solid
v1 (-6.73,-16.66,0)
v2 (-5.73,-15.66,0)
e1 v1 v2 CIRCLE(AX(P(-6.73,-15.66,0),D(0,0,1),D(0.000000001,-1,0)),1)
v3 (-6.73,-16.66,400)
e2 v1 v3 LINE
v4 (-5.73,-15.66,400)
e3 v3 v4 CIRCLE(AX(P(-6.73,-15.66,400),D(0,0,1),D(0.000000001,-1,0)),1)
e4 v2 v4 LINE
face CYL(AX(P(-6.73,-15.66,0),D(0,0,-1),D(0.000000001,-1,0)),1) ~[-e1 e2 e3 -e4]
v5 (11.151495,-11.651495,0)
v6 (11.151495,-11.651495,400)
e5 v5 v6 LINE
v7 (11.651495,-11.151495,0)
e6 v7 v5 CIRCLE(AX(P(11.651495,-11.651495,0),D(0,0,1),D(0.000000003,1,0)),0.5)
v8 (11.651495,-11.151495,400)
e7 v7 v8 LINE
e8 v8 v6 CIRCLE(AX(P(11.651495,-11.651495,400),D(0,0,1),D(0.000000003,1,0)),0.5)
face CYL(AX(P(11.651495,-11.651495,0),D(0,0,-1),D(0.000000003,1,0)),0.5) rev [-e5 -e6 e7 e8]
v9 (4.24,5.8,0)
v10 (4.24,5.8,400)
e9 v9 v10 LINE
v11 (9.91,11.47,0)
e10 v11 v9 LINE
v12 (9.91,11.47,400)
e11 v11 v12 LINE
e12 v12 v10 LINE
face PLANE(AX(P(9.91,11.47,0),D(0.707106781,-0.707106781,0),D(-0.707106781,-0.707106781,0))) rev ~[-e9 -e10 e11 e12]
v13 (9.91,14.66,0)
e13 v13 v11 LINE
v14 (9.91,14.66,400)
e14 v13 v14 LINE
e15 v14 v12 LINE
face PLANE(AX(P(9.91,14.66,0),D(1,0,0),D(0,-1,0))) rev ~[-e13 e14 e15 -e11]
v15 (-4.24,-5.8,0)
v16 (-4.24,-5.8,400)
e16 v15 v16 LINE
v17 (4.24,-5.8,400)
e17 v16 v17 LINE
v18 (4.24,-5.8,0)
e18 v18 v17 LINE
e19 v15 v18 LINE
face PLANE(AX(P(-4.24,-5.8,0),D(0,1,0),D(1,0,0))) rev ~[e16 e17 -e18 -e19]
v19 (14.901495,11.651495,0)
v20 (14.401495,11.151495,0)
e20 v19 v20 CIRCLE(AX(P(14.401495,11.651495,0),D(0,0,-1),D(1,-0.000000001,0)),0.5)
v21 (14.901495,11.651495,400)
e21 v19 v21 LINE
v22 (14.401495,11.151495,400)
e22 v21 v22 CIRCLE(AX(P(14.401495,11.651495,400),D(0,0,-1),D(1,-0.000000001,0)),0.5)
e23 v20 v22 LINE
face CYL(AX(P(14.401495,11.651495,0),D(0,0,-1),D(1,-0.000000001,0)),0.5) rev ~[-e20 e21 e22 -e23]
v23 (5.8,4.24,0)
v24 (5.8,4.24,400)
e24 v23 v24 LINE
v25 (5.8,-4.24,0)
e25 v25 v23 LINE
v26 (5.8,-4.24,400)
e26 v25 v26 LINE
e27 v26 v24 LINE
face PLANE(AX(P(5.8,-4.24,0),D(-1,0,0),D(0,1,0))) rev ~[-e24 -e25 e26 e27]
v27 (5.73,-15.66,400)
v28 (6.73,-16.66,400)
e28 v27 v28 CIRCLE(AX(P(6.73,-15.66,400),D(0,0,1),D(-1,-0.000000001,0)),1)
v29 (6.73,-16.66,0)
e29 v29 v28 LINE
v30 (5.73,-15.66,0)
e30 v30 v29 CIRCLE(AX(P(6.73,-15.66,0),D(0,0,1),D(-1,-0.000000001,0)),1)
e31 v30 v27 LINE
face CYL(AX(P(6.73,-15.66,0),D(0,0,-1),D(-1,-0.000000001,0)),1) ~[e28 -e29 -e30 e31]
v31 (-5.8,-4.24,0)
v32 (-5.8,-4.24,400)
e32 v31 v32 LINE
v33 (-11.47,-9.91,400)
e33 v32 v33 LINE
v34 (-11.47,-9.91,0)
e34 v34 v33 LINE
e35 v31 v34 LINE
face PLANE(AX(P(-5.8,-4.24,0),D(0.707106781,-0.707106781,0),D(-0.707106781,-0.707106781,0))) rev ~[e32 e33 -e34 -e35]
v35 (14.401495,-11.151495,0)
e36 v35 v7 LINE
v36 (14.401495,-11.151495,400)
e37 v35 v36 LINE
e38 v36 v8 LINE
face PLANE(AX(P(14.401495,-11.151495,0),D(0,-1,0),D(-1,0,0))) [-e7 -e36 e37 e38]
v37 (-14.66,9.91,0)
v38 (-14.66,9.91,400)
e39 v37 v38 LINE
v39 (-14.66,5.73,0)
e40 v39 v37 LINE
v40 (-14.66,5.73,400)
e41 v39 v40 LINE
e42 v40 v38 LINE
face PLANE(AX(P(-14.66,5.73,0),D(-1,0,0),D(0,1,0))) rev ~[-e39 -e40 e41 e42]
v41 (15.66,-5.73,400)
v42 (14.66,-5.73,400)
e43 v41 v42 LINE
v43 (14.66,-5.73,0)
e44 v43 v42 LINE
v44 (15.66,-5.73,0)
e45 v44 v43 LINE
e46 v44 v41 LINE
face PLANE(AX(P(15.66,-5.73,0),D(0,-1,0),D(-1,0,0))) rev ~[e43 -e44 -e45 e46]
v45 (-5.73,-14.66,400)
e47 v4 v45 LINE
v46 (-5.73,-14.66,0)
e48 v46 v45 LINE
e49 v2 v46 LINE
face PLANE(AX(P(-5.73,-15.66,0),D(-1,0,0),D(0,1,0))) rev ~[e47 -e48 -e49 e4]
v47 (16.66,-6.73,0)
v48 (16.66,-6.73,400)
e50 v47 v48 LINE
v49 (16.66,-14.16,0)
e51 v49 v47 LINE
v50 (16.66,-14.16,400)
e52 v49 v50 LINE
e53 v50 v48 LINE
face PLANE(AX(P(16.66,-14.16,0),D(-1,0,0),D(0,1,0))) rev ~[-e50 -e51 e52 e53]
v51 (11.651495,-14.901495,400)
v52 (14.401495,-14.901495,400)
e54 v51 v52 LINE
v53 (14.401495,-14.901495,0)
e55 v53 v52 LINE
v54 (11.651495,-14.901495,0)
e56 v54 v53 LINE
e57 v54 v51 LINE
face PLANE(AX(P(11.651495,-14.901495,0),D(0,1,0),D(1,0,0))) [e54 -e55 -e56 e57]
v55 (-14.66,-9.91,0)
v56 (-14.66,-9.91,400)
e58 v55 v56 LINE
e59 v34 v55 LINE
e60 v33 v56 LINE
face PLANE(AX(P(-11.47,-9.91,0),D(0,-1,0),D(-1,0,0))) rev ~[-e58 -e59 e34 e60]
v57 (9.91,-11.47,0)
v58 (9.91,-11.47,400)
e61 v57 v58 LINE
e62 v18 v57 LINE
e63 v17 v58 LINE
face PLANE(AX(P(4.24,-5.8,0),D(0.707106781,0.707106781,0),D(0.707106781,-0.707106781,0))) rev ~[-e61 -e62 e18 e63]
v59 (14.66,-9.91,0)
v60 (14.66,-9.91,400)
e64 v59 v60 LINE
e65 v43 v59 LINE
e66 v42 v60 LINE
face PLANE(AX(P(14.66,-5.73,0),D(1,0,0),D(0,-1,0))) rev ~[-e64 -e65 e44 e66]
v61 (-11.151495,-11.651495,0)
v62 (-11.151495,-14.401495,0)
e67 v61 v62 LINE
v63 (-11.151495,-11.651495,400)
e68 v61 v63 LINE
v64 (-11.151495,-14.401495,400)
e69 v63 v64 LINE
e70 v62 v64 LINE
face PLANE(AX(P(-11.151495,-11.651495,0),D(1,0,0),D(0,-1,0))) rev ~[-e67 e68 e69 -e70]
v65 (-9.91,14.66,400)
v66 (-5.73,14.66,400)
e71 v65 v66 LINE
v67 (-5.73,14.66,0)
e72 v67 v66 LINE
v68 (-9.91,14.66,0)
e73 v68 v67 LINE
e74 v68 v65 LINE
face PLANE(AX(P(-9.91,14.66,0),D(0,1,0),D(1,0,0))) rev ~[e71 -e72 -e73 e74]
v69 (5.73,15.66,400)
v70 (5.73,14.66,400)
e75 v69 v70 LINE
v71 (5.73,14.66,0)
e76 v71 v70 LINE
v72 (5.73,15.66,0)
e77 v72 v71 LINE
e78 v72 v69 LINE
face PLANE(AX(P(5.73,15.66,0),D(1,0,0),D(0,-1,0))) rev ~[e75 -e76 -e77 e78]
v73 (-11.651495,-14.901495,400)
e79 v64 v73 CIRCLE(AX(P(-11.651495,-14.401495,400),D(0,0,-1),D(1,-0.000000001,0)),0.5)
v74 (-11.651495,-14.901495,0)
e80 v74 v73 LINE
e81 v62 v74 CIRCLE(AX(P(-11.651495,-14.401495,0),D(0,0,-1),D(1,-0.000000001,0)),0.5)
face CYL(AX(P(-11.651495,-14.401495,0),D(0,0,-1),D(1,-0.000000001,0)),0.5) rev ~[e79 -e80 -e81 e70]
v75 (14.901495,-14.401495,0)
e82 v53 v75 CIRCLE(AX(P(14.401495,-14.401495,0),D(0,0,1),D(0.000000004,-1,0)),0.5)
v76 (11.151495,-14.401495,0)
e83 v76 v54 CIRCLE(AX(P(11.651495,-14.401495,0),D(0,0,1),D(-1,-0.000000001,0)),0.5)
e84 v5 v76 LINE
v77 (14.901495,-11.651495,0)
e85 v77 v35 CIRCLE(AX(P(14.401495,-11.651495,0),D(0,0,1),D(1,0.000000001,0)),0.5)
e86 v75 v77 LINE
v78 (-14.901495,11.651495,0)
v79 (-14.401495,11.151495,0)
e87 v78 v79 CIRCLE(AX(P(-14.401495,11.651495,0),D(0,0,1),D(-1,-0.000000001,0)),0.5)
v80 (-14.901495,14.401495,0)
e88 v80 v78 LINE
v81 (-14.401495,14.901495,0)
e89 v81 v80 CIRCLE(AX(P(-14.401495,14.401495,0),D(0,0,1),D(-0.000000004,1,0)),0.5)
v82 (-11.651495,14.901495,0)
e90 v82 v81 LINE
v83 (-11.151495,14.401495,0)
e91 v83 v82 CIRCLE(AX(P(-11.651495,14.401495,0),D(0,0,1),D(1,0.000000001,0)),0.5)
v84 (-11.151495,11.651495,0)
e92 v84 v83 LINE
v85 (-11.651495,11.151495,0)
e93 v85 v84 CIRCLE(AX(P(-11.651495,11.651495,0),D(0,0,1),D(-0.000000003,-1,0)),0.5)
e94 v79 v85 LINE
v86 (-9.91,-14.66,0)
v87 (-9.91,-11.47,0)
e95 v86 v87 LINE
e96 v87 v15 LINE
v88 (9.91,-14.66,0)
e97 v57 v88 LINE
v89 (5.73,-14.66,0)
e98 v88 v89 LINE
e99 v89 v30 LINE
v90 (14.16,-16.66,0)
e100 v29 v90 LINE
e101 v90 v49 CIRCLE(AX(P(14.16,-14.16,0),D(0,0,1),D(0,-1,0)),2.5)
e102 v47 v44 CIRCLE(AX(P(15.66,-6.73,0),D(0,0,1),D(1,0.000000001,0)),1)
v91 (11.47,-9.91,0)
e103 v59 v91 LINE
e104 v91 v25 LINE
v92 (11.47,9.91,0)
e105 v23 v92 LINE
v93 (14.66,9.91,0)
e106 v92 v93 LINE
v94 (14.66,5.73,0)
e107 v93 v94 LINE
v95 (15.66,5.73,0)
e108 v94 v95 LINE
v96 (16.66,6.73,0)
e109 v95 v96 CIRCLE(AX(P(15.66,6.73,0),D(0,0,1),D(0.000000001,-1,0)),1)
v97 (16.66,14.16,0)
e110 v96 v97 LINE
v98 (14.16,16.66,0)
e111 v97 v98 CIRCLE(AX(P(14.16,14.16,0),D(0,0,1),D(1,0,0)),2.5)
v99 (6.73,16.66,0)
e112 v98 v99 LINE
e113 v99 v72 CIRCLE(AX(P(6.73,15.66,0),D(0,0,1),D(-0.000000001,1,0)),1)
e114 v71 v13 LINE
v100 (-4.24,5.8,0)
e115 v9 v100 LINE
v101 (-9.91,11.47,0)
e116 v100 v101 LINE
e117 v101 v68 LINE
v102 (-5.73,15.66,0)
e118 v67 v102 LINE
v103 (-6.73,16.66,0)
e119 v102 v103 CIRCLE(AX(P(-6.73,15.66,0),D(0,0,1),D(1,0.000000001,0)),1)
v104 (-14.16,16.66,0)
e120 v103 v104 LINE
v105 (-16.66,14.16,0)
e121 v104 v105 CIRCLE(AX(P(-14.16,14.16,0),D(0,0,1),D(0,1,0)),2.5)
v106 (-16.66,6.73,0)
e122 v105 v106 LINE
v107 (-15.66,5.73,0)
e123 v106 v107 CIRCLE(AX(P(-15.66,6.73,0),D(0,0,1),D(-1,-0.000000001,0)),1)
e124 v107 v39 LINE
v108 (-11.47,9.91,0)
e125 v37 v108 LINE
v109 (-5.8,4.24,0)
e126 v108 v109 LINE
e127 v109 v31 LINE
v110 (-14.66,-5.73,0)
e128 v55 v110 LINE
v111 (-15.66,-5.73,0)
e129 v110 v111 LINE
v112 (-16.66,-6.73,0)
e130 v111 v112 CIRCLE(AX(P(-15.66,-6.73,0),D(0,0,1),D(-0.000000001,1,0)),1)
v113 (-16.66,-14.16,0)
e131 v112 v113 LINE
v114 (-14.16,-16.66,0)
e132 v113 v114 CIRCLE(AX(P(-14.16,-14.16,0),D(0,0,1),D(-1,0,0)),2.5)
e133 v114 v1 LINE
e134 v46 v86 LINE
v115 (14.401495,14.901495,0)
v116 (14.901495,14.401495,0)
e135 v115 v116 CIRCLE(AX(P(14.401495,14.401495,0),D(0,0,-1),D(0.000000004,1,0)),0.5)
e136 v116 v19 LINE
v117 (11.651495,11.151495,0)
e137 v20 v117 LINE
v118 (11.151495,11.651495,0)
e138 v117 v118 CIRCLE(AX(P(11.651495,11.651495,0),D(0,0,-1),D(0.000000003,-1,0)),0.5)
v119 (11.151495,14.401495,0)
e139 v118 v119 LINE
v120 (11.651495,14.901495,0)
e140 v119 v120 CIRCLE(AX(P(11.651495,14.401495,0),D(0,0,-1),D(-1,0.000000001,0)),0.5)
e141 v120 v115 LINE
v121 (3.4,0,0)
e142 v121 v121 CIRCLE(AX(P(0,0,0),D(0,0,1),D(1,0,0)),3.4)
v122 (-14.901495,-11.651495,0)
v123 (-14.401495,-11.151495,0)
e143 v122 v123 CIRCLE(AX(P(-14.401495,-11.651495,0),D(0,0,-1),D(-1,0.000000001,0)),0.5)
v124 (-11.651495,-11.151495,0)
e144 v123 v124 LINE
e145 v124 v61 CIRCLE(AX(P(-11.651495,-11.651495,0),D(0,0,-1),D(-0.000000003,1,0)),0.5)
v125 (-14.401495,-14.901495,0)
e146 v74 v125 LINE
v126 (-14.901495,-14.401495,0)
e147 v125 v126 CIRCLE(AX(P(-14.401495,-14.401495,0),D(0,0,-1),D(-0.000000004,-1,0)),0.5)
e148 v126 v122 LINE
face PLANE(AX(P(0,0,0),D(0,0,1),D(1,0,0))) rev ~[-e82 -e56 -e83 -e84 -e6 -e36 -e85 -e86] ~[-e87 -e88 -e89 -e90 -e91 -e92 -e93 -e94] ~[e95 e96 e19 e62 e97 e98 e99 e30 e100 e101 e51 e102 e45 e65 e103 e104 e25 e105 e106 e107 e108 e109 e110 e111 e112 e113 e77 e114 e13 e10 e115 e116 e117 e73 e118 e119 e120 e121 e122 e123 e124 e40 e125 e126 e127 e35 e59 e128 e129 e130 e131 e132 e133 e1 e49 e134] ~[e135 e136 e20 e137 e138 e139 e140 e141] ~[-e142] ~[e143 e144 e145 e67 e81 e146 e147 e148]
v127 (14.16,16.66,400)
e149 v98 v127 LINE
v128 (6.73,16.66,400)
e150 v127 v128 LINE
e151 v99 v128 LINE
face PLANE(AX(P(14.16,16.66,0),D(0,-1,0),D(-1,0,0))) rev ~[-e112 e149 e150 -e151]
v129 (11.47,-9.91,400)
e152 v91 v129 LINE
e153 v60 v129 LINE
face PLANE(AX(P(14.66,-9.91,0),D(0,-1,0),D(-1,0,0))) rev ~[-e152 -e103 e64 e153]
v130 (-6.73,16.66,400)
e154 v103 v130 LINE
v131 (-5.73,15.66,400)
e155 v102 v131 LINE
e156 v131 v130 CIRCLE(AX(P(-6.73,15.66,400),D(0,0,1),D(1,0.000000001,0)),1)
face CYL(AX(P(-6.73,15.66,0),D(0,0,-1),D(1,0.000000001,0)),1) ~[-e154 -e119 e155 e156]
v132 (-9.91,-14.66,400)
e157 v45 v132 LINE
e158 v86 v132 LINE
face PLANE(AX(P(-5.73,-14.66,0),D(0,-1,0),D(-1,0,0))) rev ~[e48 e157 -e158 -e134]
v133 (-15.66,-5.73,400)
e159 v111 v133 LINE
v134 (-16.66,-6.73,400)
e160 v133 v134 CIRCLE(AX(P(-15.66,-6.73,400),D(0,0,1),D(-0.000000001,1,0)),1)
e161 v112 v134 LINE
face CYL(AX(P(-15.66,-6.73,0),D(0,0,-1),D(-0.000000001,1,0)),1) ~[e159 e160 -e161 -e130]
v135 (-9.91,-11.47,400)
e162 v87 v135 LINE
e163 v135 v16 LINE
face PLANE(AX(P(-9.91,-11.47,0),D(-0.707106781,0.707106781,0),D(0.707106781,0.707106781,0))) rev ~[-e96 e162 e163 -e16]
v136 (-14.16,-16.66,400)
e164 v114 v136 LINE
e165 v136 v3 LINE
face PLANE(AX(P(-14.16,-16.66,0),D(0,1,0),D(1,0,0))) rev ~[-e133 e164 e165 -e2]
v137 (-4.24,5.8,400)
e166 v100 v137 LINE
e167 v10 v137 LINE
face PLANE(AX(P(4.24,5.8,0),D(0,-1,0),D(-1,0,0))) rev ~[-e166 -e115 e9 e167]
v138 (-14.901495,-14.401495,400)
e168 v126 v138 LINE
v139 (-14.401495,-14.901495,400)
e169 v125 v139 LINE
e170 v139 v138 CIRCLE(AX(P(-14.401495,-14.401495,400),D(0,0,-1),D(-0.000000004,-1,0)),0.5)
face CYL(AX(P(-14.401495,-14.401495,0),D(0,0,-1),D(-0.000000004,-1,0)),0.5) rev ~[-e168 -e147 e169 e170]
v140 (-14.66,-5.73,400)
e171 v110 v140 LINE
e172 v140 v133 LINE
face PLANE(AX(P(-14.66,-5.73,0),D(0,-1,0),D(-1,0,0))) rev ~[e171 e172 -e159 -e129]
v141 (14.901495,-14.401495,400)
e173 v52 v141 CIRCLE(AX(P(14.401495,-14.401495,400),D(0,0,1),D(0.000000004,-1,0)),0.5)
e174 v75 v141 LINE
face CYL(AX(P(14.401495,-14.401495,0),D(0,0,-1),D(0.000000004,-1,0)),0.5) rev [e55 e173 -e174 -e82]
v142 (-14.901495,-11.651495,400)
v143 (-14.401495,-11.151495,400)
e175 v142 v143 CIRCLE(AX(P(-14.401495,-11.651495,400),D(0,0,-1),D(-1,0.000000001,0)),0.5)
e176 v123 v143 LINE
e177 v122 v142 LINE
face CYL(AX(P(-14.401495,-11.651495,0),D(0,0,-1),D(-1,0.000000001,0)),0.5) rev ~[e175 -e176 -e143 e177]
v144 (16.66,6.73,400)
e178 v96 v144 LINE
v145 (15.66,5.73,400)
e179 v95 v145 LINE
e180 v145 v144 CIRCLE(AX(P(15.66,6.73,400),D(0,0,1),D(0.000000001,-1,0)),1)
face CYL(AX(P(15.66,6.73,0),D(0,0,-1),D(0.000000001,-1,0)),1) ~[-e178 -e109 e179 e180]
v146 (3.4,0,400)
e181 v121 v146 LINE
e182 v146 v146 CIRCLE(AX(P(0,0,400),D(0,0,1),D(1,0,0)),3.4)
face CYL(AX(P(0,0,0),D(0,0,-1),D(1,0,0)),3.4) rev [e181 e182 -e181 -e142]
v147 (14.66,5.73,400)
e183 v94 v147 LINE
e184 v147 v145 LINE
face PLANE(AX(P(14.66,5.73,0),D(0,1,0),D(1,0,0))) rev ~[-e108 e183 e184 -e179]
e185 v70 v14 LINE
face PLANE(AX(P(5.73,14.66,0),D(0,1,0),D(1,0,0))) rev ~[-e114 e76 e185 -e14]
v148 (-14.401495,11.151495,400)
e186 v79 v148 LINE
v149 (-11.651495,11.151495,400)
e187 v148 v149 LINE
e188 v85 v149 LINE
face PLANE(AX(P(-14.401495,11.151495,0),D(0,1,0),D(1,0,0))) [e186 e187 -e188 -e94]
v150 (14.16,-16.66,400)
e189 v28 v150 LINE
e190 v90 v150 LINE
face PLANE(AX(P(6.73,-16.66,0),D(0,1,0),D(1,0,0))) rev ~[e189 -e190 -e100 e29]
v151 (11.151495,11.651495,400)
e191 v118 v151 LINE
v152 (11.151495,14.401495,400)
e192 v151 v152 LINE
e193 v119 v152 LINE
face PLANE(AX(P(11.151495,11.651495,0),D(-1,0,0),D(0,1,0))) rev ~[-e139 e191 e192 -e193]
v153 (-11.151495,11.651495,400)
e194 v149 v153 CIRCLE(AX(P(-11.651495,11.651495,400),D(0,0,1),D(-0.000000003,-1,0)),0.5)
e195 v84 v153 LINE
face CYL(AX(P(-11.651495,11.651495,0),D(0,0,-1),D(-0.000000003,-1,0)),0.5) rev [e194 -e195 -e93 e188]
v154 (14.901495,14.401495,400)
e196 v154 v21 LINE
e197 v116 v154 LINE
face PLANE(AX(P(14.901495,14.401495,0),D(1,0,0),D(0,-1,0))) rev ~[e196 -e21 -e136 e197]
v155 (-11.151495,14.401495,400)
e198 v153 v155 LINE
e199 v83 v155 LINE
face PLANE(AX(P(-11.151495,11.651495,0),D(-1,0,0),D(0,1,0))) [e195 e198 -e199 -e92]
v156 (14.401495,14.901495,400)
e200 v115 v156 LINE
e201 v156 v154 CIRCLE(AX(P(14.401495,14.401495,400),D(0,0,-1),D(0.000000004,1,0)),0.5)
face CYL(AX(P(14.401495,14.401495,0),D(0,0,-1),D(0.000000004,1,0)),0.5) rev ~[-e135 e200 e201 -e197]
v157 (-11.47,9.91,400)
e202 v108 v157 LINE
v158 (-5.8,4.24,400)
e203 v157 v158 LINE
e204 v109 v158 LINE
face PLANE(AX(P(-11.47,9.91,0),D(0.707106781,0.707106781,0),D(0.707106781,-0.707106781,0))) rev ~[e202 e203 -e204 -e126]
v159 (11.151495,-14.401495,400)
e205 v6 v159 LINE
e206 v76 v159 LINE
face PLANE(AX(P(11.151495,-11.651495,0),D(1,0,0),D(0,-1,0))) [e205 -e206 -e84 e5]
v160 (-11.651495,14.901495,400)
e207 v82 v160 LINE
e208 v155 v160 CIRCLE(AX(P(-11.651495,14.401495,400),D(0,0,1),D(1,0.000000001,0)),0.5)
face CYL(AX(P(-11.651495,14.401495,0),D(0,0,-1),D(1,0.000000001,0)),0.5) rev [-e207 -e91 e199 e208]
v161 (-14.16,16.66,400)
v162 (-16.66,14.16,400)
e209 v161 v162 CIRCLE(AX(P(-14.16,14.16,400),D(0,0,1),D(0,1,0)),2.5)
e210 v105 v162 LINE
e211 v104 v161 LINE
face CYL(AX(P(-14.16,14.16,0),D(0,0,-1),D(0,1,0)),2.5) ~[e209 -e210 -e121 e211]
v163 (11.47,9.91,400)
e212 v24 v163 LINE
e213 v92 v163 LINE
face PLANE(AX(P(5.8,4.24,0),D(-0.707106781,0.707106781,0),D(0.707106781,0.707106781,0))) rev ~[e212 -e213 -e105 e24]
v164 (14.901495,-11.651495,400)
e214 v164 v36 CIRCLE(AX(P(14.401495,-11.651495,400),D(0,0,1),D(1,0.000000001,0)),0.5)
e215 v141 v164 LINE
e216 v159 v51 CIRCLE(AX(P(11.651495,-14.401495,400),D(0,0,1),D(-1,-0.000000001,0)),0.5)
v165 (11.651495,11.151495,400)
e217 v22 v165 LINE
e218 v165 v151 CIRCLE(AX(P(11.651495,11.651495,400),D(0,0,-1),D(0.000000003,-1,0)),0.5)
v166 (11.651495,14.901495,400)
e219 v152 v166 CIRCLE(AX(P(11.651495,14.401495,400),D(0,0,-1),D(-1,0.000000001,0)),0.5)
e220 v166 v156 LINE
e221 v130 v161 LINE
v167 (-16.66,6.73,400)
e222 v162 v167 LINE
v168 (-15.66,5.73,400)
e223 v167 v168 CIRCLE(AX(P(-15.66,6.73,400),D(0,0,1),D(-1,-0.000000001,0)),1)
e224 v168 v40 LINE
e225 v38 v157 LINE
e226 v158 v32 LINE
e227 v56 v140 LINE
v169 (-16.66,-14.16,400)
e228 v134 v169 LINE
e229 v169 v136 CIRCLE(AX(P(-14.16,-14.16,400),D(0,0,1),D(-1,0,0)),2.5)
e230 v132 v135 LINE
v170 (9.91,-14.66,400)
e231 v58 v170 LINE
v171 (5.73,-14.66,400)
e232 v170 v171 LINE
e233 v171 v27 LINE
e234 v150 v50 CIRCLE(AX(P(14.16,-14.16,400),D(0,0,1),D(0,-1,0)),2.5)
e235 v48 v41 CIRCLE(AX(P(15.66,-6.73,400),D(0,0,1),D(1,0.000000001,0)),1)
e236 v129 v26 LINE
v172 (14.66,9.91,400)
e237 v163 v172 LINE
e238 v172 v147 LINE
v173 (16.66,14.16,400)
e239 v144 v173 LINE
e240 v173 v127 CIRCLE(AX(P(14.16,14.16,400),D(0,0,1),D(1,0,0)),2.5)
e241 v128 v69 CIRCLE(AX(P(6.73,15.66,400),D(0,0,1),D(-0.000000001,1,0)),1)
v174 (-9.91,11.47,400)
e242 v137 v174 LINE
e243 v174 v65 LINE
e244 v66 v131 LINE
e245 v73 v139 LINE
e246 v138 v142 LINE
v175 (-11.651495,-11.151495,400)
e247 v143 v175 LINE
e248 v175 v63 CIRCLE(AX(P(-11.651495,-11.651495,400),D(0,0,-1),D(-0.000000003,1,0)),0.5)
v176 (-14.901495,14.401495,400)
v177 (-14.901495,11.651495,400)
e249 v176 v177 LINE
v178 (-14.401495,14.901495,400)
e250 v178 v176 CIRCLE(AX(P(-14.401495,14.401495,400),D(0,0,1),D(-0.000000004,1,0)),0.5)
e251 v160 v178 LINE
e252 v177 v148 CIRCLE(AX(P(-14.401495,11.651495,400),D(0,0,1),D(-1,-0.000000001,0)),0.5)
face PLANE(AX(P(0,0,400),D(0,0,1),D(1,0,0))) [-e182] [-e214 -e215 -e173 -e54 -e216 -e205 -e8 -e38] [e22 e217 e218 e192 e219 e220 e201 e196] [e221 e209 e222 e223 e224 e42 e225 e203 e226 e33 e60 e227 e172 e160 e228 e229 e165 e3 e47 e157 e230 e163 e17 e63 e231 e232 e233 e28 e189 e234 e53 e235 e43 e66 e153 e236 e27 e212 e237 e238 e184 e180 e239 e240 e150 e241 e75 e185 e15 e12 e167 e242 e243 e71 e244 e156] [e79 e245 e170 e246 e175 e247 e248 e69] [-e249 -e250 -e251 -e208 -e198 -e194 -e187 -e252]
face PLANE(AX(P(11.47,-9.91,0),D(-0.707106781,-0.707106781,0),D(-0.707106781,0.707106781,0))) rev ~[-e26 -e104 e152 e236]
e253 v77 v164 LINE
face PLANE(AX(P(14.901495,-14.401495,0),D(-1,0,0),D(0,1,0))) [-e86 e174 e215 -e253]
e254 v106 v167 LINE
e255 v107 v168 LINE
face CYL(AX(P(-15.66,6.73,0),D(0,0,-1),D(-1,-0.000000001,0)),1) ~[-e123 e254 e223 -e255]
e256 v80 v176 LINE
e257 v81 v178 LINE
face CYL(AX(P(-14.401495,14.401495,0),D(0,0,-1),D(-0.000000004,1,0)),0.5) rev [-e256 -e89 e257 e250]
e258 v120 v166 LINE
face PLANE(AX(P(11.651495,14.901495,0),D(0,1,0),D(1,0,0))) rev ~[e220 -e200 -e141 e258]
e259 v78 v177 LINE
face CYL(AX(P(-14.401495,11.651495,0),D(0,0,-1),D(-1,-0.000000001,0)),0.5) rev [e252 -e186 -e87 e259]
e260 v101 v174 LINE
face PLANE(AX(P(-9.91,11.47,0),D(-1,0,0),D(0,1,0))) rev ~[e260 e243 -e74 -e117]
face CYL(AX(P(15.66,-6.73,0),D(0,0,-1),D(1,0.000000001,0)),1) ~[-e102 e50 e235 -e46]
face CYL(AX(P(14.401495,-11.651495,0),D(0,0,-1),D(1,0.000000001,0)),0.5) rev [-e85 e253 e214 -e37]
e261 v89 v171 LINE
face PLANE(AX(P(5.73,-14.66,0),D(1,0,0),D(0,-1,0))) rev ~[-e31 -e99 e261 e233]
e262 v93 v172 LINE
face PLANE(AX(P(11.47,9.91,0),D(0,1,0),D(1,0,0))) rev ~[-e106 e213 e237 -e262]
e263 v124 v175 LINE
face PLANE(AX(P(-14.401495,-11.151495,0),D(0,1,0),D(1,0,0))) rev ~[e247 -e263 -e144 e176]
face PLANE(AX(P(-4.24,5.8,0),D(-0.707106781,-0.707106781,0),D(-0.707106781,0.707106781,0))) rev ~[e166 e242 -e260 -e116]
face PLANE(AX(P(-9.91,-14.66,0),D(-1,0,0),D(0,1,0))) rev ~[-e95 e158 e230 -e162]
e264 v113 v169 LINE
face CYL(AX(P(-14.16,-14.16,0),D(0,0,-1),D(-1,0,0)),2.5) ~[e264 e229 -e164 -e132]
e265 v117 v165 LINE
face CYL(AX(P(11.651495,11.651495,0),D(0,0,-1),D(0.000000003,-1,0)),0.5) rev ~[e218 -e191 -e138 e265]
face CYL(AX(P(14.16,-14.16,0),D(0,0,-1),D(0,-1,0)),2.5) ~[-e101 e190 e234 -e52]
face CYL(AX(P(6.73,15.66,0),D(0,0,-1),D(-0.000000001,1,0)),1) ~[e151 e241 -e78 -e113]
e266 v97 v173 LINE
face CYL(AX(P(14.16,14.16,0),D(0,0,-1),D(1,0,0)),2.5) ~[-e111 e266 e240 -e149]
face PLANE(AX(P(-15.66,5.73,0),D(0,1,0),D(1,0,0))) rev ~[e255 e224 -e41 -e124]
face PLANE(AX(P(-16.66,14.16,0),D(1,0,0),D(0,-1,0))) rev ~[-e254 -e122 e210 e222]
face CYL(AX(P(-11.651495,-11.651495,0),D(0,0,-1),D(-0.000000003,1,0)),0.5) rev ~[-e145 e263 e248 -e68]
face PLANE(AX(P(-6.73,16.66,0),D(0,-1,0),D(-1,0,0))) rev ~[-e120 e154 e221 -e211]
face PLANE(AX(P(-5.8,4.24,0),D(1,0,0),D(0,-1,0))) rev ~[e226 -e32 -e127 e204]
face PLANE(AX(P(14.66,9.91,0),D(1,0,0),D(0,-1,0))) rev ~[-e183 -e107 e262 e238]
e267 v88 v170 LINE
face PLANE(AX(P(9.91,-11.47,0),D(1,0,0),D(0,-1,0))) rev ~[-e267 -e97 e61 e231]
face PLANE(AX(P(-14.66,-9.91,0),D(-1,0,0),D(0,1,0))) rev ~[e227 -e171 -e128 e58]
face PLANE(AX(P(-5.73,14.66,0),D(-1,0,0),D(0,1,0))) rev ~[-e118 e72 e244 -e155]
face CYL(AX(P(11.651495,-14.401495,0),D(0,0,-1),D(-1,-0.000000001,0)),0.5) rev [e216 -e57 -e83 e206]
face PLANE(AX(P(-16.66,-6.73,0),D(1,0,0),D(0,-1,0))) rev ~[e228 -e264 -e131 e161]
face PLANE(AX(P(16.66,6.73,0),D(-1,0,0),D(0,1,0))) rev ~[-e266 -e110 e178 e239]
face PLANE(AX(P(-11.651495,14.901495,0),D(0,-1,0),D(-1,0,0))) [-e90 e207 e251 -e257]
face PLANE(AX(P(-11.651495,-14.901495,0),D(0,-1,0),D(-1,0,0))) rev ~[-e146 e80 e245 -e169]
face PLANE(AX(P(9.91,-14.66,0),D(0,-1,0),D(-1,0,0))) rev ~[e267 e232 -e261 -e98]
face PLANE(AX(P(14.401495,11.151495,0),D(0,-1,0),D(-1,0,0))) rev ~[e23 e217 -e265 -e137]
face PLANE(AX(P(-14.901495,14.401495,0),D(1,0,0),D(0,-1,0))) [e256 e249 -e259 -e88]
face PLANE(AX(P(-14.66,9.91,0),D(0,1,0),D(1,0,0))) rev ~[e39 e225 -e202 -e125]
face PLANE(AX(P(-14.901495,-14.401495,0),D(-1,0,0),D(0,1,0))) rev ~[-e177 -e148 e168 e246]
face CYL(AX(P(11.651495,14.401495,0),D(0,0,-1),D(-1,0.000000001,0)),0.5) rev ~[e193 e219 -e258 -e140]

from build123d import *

# Parameters (mm, degrees)
CROQUIS1_R              = 3.4
SALIENTE_EXTRUIR1_DEPTH = 400


with BuildPart() as part:
    # Croquis1 → Saliente-Extruir1 (new body)
    with BuildSketch(Plane.XY):
        with BuildLine():
            Line((5.8, -4.24), (5.8, 4.24))
            Line((5.8, 4.24), (11.47, 9.91))
            Line((11.47, 9.91), (14.66, 9.91))
            Line((14.66, 9.91), (14.66, 5.73))
            Line((14.66, 5.73), (15.66, 5.73))
            ThreePointArc((15.66, 5.73), (16.367106781, 6.022893219), (16.66, 6.73))
            Line((16.66, 6.73), (16.66, 14.16))
            ThreePointArc((16.66, 14.16), (15.927766953, 15.927766953), (14.16, 16.66))
            Line((14.16, 16.66), (6.73, 16.66))
            ThreePointArc((6.73, 16.66), (6.022893219, 16.367106781), (5.73, 15.66))
            Line((5.73, 15.66), (5.73, 14.66))
            Line((5.73, 14.66), (9.91, 14.66))
            Line((9.91, 14.66), (9.91, 11.47))
            Line((9.91, 11.47), (4.24, 5.8))
            Line((4.24, 5.8), (-4.24, 5.8))
            Line((-4.24, 5.8), (-9.91, 11.47))
            Line((-9.91, 11.47), (-9.91, 14.66))
            Line((-9.91, 14.66), (-5.73, 14.66))
            Line((-5.73, 14.66), (-5.73, 15.66))
            ThreePointArc((-5.73, 15.66), (-6.022893219, 16.367106781), (-6.73, 16.66))
            Line((-6.73, 16.66), (-14.16, 16.66))
            ThreePointArc((-14.16, 16.66), (-15.927766953, 15.927766953), (-16.66, 14.16))
            Line((-16.66, 14.16), (-16.66, 6.73))
            ThreePointArc((-16.66, 6.73), (-16.367106781, 6.022893219), (-15.66, 5.73))
            Line((-15.66, 5.73), (-14.66, 5.73))
            Line((-14.66, 5.73), (-14.66, 9.91))
            Line((-14.66, 9.91), (-11.47, 9.91))
            Line((-11.47, 9.91), (-5.8, 4.24))
            Line((-5.8, 4.24), (-5.8, -4.24))
            Line((-5.8, -4.24), (-11.47, -9.91))
            Line((-11.47, -9.91), (-14.66, -9.91))
            Line((-14.66, -9.91), (-14.66, -5.73))
            Line((-14.66, -5.73), (-15.66, -5.73))
            ThreePointArc((-15.66, -5.73), (-16.367106781, -6.022893219), (-16.66, -6.73))
            Line((-16.66, -6.73), (-16.66, -14.16))
            ThreePointArc((-16.66, -14.16), (-15.927766953, -15.927766953), (-14.16, -16.66))
            Line((-14.16, -16.66), (-6.73, -16.66))
            ThreePointArc((-6.73, -16.66), (-6.022893219, -16.367106781), (-5.73, -15.66))
            Line((-5.73, -15.66), (-5.73, -14.66))
            Line((-5.73, -14.66), (-9.91, -14.66))
            Line((-9.91, -14.66), (-9.91, -11.47))
            Line((-9.91, -11.47), (-4.24, -5.8))
            Line((-4.24, -5.8), (4.24, -5.8))
            Line((4.24, -5.8), (9.91, -11.47))
            Line((9.91, -11.47), (9.91, -14.66))
            Line((9.91, -14.66), (5.73, -14.66))
            Line((5.73, -14.66), (5.73, -15.66))
            ThreePointArc((5.73, -15.66), (6.022893219, -16.367106781), (6.73, -16.66))
            Line((6.73, -16.66), (14.16, -16.66))
            ThreePointArc((14.16, -16.66), (15.927766953, -15.927766953), (16.66, -14.16))
            Line((16.66, -14.16), (16.66, -6.73))
            ThreePointArc((16.66, -6.73), (16.367106781, -6.022893219), (15.66, -5.73))
            Line((15.66, -5.73), (14.66, -5.73))
            Line((14.66, -5.73), (14.66, -9.91))
            Line((14.66, -9.91), (11.47, -9.91))
            Line((11.47, -9.91), (5.8, -4.24))
        make_face()
        Circle(CROQUIS1_R, mode=Mode.SUBTRACT)
        with BuildLine():
            Line((11.651495134, 14.901495134), (14.401495134, 14.901495134))
            ThreePointArc((14.401495134, 14.901495134), (14.755048524, 14.755048524), (14.901495134, 14.401495134))
            Line((14.901495134, 14.401495134), (14.901495134, 11.651495134))
            ThreePointArc((14.901495134, 11.651495134), (14.755048524, 11.297941743), (14.401495134, 11.151495134))
            Line((14.401495134, 11.151495134), (11.651495134, 11.151495134))
            ThreePointArc((11.651495134, 11.151495134), (11.297941743, 11.297941743), (11.151495134, 11.651495134))
            Line((11.151495134, 11.651495134), (11.151495134, 14.401495134))
            ThreePointArc((11.151495134, 14.401495134), (11.297941743, 14.755048524), (11.651495134, 14.901495134))
        make_face(mode=Mode.SUBTRACT)
        with BuildLine():
            Line((-14.901495134, 14.401495134), (-14.901495134, 11.651495134))
            ThreePointArc((-14.901495134, 11.651495134), (-14.755048524, 11.297941743), (-14.401495134, 11.151495134))
            Line((-14.401495134, 11.151495134), (-11.651495134, 11.151495134))
            ThreePointArc((-11.651495134, 11.151495134), (-11.297941743, 11.297941743), (-11.151495134, 11.651495134))
            Line((-11.151495134, 11.651495134), (-11.151495134, 14.401495134))
            ThreePointArc((-11.151495134, 14.401495134), (-11.297941743, 14.755048524), (-11.651495134, 14.901495134))
            Line((-11.651495134, 14.901495134), (-14.401495134, 14.901495134))
            ThreePointArc((-14.401495134, 14.901495134), (-14.755048524, 14.755048524), (-14.901495134, 14.401495134))
        make_face(mode=Mode.SUBTRACT)
        with BuildLine():
            Line((-11.651495134, -14.901495134), (-14.401495134, -14.901495134))
            ThreePointArc((-14.401495134, -14.901495134), (-14.755048524, -14.755048524), (-14.901495134, -14.401495134))
            Line((-14.901495134, -14.401495134), (-14.901495134, -11.651495134))
            ThreePointArc((-14.901495134, -11.651495134), (-14.755048524, -11.297941743), (-14.401495134, -11.151495134))
            Line((-14.401495134, -11.151495134), (-11.651495134, -11.151495134))
            ThreePointArc((-11.651495134, -11.151495134), (-11.297941743, -11.297941743), (-11.151495134, -11.651495134))
            Line((-11.151495134, -11.651495134), (-11.151495134, -14.401495134))
            ThreePointArc((-11.151495134, -14.401495134), (-11.297941743, -14.755048524), (-11.651495134, -14.901495134))
        make_face(mode=Mode.SUBTRACT)
        with BuildLine():
            Line((14.901495134, -14.401495134), (14.901495134, -11.651495134))
            ThreePointArc((14.901495134, -11.651495134), (14.755048524, -11.297941743), (14.401495134, -11.151495134))
            Line((14.401495134, -11.151495134), (11.651495134, -11.151495134))
            ThreePointArc((11.651495134, -11.151495134), (11.297941743, -11.297941743), (11.151495134, -11.651495134))
            Line((11.151495134, -11.651495134), (11.151495134, -14.401495134))
            ThreePointArc((11.151495134, -14.401495134), (11.297941743, -14.755048524), (11.651495134, -14.901495134))
            Line((11.651495134, -14.901495134), (14.401495134, -14.901495134))
            ThreePointArc((14.401495134, -14.901495134), (14.755048524, -14.755048524), (14.901495134, -14.401495134))
        make_face(mode=Mode.SUBTRACT)
    extrude(amount=SALIENTE_EXTRUIR1_DEPTH)


solid = part.part
